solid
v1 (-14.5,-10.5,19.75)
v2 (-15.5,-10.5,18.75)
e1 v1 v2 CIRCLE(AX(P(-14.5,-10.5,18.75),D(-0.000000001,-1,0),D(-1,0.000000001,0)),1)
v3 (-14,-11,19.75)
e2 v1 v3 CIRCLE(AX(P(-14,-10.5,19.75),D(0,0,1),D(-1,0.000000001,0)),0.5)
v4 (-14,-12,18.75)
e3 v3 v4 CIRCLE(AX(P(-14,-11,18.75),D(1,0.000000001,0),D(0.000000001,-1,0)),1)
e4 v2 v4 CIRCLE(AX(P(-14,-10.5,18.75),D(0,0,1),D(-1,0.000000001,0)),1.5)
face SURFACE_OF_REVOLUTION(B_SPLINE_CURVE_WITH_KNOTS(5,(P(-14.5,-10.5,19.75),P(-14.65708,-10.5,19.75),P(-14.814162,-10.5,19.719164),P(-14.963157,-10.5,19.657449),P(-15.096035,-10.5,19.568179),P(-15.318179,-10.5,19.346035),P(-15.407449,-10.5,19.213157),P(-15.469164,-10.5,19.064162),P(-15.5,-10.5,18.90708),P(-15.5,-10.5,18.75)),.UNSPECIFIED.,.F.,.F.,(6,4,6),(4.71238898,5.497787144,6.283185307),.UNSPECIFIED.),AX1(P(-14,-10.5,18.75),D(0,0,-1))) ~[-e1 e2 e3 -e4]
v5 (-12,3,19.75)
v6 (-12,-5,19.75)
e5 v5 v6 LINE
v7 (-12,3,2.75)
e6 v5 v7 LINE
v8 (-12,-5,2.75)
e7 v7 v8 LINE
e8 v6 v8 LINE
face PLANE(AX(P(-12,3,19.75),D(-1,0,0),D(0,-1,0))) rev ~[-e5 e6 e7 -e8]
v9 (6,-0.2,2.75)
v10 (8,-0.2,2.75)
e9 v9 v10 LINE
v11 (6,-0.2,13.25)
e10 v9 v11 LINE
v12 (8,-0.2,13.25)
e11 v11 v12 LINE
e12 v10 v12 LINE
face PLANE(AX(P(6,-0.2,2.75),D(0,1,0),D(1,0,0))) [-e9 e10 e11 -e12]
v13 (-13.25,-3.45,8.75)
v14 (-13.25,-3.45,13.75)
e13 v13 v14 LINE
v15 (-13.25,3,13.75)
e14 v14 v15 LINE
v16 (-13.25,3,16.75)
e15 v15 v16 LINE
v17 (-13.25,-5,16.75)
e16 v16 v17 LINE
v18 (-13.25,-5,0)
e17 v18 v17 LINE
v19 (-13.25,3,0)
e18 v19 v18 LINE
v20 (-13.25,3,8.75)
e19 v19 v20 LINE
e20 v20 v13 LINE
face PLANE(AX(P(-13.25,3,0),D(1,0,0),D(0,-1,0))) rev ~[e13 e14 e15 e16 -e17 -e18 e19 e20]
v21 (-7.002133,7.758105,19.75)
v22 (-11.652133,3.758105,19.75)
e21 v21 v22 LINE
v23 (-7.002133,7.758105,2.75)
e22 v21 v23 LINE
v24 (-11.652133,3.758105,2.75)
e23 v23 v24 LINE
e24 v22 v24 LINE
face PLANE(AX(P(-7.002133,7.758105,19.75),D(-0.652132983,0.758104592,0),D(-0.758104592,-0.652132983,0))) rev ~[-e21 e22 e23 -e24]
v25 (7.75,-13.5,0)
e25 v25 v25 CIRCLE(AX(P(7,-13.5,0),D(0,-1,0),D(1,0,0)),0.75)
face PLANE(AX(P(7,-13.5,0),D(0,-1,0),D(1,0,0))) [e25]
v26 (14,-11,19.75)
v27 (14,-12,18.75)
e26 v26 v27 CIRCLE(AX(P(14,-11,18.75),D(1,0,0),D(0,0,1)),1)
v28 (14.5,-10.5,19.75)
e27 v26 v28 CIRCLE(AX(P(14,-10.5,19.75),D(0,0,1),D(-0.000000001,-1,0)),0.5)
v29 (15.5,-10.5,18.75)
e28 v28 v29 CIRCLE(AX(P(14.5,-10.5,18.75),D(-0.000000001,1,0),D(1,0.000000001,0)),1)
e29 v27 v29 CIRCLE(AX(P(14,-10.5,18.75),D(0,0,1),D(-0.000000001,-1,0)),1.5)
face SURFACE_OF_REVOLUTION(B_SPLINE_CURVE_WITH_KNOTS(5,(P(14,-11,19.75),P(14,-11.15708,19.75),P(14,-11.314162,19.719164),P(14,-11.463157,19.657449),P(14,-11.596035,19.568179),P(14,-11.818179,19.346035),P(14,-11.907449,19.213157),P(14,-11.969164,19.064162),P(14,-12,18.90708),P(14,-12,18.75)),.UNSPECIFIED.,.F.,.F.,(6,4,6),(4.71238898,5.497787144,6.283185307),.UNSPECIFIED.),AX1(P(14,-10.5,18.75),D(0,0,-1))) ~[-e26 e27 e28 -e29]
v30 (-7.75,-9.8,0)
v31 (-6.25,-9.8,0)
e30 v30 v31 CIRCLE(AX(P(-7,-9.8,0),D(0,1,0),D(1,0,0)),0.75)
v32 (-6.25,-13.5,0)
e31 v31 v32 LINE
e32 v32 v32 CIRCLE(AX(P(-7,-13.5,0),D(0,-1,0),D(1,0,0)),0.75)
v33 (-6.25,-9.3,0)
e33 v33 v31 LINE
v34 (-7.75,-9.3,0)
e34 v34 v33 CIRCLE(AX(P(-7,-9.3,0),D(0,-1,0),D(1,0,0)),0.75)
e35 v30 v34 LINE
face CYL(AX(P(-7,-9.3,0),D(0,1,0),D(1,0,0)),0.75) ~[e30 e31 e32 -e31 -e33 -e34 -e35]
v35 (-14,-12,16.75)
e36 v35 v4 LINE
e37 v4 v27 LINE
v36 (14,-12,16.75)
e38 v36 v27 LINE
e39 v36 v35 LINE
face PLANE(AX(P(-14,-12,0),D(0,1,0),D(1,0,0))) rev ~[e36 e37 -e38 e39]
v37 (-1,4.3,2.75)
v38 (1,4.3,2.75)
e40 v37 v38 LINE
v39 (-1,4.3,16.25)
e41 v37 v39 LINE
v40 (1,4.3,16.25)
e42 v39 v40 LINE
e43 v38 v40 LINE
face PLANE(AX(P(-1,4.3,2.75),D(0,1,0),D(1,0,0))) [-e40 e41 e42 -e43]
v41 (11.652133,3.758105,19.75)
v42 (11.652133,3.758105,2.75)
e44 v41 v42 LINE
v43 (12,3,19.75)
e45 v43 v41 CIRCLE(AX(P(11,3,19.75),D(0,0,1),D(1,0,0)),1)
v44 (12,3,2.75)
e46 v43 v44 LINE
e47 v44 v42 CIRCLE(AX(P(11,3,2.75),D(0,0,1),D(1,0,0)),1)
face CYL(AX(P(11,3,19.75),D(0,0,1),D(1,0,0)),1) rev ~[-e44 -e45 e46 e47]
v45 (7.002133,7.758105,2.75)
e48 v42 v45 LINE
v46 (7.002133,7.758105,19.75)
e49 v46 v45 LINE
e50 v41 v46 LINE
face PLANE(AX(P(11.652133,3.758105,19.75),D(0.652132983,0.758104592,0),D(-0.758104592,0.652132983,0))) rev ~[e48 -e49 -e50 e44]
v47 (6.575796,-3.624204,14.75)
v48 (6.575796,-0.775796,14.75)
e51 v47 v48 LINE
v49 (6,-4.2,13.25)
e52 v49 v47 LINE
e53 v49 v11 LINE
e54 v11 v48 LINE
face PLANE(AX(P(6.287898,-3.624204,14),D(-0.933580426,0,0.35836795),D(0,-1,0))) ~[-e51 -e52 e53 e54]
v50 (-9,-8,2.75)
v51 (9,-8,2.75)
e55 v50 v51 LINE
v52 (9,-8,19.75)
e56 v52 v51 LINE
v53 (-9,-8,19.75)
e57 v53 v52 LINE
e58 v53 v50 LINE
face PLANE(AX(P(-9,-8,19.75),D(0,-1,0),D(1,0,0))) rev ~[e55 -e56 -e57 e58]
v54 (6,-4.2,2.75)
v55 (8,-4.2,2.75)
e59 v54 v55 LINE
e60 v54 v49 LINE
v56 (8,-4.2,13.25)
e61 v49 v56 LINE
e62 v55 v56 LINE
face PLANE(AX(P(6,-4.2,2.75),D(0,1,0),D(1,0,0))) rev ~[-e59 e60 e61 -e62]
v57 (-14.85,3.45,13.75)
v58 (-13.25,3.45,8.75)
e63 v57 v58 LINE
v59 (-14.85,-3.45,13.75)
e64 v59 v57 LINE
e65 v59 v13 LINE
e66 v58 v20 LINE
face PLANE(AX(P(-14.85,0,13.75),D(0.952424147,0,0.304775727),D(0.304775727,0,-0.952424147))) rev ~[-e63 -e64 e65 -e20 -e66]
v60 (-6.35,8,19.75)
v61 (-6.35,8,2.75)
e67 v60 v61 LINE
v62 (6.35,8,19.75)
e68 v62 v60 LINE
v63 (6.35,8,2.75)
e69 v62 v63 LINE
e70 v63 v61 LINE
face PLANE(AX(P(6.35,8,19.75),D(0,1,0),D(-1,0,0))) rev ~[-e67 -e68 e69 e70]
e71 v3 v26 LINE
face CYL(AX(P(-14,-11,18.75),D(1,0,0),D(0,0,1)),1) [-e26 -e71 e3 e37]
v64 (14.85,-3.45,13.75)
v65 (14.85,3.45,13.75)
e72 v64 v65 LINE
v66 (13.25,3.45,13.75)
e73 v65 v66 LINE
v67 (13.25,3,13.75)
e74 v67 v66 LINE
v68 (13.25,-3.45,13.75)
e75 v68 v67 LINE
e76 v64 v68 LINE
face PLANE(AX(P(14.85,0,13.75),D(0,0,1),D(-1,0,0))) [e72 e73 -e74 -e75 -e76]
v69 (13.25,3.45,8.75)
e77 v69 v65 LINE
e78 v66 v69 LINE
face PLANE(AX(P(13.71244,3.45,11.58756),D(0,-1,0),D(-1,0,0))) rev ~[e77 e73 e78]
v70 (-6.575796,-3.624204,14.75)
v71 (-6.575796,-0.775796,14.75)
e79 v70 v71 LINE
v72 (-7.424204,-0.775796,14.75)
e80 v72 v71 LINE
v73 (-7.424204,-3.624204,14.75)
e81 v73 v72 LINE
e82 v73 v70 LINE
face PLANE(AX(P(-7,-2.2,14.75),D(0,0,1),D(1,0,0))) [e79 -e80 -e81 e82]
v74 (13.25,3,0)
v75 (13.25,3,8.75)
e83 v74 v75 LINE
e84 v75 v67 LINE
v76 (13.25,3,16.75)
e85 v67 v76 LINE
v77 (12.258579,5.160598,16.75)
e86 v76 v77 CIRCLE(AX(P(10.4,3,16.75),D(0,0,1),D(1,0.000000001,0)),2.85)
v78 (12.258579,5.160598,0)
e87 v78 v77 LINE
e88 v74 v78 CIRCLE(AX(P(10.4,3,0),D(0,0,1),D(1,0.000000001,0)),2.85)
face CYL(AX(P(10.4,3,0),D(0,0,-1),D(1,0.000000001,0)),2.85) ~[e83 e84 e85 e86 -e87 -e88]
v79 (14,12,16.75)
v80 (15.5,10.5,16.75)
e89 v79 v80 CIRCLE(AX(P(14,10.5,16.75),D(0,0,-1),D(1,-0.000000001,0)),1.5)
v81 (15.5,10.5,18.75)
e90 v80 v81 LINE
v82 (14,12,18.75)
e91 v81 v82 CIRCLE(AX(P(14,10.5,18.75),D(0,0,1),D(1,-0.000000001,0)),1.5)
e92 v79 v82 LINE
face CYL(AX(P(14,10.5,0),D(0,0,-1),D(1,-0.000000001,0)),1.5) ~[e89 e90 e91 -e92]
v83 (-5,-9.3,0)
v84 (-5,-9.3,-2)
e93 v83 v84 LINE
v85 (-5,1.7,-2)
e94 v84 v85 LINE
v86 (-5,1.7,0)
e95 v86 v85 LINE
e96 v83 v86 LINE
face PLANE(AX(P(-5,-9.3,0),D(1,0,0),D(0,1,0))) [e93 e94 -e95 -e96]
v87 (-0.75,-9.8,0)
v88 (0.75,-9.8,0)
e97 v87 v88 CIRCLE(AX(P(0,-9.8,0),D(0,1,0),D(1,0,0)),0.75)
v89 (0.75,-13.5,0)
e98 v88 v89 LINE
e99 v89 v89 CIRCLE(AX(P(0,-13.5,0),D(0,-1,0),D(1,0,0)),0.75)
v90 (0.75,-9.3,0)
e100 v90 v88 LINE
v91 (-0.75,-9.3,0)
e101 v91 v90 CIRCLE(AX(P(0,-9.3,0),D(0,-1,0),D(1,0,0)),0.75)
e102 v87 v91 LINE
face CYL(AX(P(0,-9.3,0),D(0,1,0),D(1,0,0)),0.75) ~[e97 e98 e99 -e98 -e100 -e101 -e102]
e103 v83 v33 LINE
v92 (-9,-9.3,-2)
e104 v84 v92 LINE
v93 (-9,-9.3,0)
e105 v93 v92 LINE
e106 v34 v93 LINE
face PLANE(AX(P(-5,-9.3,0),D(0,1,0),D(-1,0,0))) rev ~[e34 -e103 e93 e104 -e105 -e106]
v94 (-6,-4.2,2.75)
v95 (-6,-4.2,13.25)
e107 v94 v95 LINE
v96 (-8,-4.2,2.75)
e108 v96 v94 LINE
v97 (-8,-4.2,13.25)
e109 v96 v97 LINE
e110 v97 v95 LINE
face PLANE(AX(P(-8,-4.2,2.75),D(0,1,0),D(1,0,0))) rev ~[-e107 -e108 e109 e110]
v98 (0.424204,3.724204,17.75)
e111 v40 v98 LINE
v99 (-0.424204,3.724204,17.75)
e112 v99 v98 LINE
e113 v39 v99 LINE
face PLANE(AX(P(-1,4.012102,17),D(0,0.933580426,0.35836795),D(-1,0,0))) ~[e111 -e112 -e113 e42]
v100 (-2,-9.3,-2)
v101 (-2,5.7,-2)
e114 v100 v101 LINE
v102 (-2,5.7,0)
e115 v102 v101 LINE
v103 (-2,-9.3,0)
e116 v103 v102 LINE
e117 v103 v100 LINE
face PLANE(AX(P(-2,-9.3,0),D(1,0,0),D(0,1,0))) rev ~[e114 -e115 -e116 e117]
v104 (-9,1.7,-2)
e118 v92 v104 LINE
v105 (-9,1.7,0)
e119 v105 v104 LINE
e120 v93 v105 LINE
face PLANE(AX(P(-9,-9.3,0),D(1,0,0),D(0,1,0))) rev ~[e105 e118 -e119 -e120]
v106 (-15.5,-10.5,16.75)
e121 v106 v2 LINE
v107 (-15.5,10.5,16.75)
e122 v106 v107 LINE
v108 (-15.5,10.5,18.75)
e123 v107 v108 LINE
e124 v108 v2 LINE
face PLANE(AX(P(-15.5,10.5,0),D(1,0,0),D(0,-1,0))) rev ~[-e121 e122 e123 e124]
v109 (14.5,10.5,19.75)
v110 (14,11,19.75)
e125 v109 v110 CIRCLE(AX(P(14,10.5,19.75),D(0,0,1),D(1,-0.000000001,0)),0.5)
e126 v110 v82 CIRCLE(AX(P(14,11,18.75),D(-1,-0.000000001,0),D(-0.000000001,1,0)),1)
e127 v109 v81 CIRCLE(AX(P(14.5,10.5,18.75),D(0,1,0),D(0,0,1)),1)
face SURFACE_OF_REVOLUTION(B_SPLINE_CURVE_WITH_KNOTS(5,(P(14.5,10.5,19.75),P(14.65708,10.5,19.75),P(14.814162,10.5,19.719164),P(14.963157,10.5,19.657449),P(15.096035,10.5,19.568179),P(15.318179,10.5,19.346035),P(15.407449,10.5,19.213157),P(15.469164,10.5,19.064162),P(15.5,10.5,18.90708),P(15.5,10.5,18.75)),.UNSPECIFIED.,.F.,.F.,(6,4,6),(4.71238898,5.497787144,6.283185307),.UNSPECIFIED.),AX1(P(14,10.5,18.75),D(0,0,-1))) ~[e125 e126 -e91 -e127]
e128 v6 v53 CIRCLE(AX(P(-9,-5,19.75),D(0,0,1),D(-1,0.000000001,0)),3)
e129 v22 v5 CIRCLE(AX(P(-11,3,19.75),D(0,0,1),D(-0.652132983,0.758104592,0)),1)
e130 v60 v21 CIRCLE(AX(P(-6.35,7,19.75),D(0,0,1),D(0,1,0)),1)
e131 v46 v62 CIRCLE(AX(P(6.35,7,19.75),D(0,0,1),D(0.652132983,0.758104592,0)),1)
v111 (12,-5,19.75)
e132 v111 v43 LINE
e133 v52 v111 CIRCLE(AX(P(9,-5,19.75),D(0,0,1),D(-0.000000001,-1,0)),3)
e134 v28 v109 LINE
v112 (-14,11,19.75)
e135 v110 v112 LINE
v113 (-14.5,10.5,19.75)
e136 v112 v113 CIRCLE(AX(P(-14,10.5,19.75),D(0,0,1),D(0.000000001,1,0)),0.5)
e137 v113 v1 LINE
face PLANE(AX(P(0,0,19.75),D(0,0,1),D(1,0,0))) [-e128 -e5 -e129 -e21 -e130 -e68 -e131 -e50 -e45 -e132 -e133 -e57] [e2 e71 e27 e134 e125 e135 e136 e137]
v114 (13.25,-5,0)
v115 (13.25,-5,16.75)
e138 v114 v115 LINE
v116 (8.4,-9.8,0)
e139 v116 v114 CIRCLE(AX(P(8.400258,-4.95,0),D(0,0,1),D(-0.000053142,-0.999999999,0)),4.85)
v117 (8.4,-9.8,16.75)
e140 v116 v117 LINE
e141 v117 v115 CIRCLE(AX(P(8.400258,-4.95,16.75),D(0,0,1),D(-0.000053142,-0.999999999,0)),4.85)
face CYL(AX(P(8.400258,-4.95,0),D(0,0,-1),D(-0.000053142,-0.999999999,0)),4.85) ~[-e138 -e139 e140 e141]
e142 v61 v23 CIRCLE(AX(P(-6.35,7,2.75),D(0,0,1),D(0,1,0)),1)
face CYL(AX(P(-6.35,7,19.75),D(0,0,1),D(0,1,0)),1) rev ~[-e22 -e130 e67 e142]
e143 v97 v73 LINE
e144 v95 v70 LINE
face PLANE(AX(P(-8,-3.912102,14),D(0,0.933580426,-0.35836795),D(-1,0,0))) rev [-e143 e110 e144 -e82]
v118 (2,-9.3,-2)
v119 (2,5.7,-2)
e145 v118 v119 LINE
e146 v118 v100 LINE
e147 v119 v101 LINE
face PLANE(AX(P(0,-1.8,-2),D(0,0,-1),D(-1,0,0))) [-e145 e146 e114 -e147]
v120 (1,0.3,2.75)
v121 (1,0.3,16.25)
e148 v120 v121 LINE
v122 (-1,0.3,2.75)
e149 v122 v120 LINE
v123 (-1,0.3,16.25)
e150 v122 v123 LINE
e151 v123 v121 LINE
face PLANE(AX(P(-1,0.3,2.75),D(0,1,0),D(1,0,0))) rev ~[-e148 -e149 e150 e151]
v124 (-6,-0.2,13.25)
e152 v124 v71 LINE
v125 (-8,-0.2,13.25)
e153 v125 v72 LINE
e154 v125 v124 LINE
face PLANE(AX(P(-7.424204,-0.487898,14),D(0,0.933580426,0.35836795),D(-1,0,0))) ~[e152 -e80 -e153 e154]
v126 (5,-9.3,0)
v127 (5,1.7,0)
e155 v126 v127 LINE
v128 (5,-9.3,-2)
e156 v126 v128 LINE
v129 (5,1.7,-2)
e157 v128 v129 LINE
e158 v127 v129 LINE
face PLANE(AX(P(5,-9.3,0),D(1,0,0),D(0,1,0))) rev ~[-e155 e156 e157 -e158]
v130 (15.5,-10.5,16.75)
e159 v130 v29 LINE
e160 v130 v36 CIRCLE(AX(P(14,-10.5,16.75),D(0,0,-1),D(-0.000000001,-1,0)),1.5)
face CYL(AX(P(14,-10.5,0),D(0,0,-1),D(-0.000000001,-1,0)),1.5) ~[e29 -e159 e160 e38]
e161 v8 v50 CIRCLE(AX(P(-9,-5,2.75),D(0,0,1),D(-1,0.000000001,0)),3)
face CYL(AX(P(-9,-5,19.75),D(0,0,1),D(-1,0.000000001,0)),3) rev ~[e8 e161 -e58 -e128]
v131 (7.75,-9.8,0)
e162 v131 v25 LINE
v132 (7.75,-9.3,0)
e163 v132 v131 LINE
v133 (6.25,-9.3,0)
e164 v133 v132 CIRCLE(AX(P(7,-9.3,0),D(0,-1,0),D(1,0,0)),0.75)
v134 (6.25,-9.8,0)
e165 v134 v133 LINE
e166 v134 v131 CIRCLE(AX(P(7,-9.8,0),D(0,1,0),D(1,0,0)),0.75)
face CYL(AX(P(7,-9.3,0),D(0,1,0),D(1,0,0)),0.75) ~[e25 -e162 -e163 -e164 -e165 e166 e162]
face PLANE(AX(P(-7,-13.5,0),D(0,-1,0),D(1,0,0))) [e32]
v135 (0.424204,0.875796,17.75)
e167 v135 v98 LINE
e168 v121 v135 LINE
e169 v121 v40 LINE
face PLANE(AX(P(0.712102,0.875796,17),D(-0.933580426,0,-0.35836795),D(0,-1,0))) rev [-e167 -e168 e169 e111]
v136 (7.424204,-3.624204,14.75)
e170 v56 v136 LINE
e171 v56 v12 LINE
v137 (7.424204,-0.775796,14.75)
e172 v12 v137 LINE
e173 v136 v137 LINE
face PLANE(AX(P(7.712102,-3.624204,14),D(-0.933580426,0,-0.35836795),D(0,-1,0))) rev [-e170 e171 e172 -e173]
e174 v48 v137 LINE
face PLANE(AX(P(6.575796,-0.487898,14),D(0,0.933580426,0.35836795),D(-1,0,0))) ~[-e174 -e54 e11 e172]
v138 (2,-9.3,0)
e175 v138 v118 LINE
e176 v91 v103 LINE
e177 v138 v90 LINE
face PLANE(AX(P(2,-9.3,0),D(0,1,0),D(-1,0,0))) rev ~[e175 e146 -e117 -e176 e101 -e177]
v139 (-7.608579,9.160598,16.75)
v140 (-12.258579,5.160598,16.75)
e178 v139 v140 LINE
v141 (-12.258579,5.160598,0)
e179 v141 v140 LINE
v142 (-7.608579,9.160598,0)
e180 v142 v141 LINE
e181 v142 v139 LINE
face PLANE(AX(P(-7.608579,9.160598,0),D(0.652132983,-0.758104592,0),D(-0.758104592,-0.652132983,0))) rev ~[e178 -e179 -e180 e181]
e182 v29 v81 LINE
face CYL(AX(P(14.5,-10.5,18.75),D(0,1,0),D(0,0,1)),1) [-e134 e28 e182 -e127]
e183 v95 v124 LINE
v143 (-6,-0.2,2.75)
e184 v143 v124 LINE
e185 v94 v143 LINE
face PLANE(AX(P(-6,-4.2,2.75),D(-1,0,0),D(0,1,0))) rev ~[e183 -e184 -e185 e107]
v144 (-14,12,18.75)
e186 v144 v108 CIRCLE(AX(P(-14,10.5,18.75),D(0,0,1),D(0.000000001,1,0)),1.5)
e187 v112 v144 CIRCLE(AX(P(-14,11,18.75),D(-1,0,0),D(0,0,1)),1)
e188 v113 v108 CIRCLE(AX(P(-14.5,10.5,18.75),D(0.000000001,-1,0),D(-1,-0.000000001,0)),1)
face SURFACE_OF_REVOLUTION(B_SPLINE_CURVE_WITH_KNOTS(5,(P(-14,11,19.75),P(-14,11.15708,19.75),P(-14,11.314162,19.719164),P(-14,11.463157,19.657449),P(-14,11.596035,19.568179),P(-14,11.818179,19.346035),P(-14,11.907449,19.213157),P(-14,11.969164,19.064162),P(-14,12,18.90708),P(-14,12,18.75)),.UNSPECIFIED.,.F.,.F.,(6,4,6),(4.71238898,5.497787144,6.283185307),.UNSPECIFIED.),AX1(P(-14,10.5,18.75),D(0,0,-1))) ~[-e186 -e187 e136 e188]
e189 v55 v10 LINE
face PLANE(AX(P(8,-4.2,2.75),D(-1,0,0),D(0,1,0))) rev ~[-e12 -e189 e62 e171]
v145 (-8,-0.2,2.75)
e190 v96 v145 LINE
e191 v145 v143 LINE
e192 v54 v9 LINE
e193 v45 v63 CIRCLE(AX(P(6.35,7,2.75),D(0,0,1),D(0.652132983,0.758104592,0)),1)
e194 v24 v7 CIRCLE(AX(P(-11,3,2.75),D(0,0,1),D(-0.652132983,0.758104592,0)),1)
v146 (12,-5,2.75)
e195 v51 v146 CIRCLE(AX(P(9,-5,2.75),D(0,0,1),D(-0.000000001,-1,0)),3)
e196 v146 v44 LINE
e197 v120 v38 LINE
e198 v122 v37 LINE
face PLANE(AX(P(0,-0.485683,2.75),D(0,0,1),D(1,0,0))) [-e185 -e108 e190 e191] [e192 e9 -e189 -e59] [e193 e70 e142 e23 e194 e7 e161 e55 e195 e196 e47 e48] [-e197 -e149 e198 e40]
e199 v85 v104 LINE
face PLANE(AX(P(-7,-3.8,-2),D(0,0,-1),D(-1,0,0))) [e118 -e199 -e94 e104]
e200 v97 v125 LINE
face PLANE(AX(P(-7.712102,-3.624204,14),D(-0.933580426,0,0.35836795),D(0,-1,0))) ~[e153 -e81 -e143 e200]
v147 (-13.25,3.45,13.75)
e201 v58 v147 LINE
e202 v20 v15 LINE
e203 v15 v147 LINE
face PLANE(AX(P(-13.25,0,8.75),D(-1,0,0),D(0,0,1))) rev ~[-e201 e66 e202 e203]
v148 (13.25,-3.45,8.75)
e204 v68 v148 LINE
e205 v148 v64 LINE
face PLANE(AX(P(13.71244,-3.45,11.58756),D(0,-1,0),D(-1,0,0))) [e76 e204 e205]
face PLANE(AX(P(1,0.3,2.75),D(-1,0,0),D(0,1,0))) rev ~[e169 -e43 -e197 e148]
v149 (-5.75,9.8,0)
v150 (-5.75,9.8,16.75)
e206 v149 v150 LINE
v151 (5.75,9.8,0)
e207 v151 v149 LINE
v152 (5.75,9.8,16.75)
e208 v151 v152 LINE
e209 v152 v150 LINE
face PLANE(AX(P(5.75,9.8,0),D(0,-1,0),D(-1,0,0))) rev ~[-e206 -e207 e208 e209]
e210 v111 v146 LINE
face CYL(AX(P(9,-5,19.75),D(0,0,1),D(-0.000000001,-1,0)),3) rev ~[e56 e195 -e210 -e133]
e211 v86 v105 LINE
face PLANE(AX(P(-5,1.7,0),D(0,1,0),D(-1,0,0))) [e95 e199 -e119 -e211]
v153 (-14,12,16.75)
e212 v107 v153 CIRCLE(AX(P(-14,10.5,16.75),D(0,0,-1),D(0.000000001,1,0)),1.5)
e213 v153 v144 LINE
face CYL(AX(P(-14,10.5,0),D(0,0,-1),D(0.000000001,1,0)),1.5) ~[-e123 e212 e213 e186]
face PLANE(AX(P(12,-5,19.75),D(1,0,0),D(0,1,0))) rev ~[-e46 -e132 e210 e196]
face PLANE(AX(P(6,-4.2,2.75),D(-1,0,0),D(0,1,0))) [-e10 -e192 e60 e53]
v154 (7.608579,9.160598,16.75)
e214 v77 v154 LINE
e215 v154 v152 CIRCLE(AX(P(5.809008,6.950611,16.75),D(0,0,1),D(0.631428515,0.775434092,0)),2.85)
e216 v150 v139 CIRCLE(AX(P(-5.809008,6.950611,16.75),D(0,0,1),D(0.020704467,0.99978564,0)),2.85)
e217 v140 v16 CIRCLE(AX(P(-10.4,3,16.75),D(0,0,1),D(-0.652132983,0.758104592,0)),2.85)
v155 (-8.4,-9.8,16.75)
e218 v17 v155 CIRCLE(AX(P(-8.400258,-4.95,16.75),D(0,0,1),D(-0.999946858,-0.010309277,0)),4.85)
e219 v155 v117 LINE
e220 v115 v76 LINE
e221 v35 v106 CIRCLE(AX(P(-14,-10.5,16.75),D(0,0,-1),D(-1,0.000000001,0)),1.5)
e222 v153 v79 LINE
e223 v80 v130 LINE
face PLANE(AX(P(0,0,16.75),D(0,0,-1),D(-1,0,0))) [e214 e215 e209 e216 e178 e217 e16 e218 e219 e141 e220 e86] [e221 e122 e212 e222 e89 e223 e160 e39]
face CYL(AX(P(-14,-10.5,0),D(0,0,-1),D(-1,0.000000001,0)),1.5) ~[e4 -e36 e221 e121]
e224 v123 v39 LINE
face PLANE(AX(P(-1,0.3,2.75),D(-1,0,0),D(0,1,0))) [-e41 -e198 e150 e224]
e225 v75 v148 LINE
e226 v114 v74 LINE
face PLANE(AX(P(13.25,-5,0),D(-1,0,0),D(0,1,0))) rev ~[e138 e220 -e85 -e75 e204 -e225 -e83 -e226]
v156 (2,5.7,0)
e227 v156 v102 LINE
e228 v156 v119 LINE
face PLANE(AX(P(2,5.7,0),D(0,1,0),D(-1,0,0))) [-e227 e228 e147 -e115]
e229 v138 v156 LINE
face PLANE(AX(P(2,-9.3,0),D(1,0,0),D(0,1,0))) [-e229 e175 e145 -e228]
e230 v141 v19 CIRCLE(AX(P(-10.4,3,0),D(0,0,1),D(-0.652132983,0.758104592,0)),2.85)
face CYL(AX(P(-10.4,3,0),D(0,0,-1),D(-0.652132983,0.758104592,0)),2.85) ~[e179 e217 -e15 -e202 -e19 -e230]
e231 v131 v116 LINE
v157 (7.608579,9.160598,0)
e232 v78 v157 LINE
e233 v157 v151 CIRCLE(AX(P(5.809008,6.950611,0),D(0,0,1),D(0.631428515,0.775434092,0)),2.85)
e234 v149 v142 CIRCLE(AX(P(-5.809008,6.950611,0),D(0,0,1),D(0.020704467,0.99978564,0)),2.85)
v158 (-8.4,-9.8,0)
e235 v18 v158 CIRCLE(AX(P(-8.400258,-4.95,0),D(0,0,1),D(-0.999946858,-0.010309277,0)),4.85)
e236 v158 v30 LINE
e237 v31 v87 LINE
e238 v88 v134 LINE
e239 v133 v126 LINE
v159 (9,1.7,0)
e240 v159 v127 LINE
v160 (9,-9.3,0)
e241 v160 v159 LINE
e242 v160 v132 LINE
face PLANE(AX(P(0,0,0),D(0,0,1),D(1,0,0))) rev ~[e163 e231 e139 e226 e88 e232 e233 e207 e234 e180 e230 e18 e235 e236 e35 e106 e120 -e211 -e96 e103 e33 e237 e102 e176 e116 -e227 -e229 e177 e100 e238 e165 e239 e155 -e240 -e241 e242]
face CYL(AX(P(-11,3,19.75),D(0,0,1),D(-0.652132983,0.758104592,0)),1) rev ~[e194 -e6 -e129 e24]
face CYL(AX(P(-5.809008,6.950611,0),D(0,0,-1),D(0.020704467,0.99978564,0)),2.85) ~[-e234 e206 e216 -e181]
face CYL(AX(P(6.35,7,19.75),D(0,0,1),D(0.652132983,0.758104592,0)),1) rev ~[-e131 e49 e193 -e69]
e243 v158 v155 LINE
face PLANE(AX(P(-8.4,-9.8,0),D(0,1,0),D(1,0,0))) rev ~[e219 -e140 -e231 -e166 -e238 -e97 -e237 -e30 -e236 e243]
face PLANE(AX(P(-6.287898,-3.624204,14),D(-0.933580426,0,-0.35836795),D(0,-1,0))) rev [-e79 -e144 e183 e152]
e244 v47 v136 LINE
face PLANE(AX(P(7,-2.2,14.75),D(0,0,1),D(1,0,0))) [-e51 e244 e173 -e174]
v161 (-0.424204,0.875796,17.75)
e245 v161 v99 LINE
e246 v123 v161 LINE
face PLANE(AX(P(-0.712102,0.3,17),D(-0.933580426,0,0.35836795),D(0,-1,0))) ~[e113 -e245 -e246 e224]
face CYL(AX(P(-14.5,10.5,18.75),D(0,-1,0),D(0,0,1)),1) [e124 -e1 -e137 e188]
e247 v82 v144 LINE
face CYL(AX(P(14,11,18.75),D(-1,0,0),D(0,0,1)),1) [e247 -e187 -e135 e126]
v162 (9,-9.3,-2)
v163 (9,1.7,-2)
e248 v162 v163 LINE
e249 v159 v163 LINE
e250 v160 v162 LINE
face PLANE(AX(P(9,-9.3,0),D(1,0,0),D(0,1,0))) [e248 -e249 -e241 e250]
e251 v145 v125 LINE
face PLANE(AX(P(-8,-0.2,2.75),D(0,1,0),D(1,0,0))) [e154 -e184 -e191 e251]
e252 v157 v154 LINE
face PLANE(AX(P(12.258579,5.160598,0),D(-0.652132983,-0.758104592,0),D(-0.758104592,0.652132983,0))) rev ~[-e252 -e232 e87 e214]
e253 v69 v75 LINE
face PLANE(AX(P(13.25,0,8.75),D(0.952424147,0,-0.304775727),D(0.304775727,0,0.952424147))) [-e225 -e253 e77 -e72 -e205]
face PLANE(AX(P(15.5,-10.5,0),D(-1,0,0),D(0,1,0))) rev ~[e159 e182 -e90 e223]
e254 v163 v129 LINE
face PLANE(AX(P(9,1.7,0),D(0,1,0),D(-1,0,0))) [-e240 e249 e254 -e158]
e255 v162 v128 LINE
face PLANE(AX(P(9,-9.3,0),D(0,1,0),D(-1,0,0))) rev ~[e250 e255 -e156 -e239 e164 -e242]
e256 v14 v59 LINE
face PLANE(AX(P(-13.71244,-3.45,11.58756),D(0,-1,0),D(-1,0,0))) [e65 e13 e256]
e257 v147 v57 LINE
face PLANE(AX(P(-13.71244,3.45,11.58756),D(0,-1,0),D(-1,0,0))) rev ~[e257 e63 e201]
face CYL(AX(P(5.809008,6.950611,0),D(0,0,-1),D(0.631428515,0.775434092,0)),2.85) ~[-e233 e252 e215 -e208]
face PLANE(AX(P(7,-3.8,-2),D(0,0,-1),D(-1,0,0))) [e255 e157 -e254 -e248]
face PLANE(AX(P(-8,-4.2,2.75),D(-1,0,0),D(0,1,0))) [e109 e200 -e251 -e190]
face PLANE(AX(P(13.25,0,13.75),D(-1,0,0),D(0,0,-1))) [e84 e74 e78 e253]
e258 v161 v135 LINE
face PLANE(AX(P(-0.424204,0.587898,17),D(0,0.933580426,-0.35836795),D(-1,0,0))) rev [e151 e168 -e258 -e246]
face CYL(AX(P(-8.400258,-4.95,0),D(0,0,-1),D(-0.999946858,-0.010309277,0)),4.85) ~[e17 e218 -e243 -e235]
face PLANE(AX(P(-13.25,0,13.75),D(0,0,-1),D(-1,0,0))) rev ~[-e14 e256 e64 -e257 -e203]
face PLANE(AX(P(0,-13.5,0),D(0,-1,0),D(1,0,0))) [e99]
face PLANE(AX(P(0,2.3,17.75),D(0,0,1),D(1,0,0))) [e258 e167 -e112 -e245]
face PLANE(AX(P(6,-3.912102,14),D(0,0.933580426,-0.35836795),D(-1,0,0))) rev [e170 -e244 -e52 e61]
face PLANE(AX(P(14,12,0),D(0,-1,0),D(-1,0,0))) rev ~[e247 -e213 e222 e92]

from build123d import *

# Parameters (mm, degrees)
EXTRUDE1_DEPTH         = 19.75
CUT_EXTRUDE1_DEPTH     = 17
SKETCH3_OUTSIDE_W      = 41.78
SKETCH3_OUTSIDE_H      = 34.78
CUT_EXTRUDE2_DEPTH     = 16.75
SKETCH4_W              = 2
SKETCH4_H              = 4
EXTRUDE2_DEPTH         = 15
SKETCH5_W              = 2
SKETCH5_H              = 4
CUT_EXTRUDE3_DEPTH     = 3
CHAMFER1_SIZE          = 1.5
CHAMFER1_SIZE2         = 0.575796053
CHAMFER1_PART_2_SIZE   = 1.5
CHAMFER1_PART_2_SIZE2  = 0.575796053
CHAMFER1_PART_3_SIZE   = 1.5
CHAMFER1_PART_3_SIZE2  = 0.575796053
CHAMFER1_PART_4_SIZE   = 1.5
CHAMFER1_PART_4_SIZE2  = 0.575796053
CHAMFER1_PART_5_SIZE   = 1.5
CHAMFER1_PART_5_SIZE2  = 0.575796053
CHAMFER1_PART_6_SIZE   = 1.5
CHAMFER1_PART_6_SIZE2  = 0.575796053
CHAMFER1_PART_7_SIZE   = 1.5
CHAMFER1_PART_7_SIZE2  = 0.575796053
CHAMFER1_PART_8_SIZE   = 1.5
CHAMFER1_PART_8_SIZE2  = 0.575796053
CHAMFER1_PART_9_SIZE   = 1.5
CHAMFER1_PART_9_SIZE2  = 0.575796053
CHAMFER1_PART_10_SIZE  = 1.5
CHAMFER1_PART_10_SIZE2 = 0.575796053
CHAMFER1_PART_11_SIZE  = 1.5
CHAMFER1_PART_11_SIZE2 = 0.575796053
CHAMFER1_PART_12_SIZE  = 1.5
CHAMFER1_PART_12_SIZE2 = 0.575796053
FILLET1_R              = 1
EXTRUDE3_DEPTH         = 3.45
SKETCH7_W              = 4
SKETCH7_H              = 15
SKETCH7_H_2            = 11
EXTRUDE4_DEPTH         = 2
SKETCH8_R              = 0.75
EXTRUDE5_DEPTH         = 4.2


with BuildPart() as part:
    # Sketch1 → Extrude1 (new body)
    with BuildSketch(Plane.XY):
        with BuildLine():
            Line((-14, -12), (14, -12))
            ThreePointArc((14, -12), (15.060660172, -11.560660172), (15.5, -10.5))
            Line((15.5, -10.5), (15.5, 10.5))
            ThreePointArc((15.5, 10.5), (15.060660172, 11.560660172), (14, 12))
            Line((14, 12), (-14, 12))
            ThreePointArc((-14, 12), (-15.060660172, 11.560660172), (-15.5, 10.5))
            Line((-15.5, 10.5), (-15.5, -10.5))
            ThreePointArc((-15.5, -10.5), (-15.060660172, -11.560660172), (-14, -12))
        make_face()
    extrude(amount=EXTRUDE1_DEPTH)

    # Sketch2 → Cut-Extrude1 (cut)
    with BuildSketch(Plane.XY.offset(19.75)):
        with BuildLine():
            Line((-12, 3), (-12, -5))
            ThreePointArc((-12, -5), (-11.121320344, -7.121320344), (-9, -8))
            Line((-9, -8), (9, -8))
            ThreePointArc((9, -8), (11.121320344, -7.121320344), (12, -5))
            Line((12, -5), (12, 3))
            ThreePointArc((12, 3), (11.908882001, 3.417053364), (11.652132983, 3.758104592))
            Line((11.652132983, 3.758104592), (7.002132983, 7.758104592))
            ThreePointArc((7.002132983, 7.758104592), (6.697775364, 7.937577888), (6.35, 8))
            Line((6.35, 8), (-6.35, 8))
            ThreePointArc((-6.35, 8), (-6.697775364, 7.937577888), (-7.002132983, 7.758104592))
            Line((-7.002132983, 7.758104592), (-11.652132983, 3.758104592))
            ThreePointArc((-11.652132983, 3.758104592), (-11.908882001, 3.417053364), (-12, 3))
        make_face()
    extrude(amount=-CUT_EXTRUDE1_DEPTH, mode=Mode.SUBTRACT)

    # Sketch3 outside → Cut-Extrude2 (cut)
    with BuildSketch(Plane(origin=(0, 0, 0), x_dir=(-1, 0, 0), z_dir=(0, 0, -1))):
        Rectangle(SKETCH3_OUTSIDE_W, SKETCH3_OUTSIDE_H)
        with BuildLine():
            Line((13.25, 3), (13.25, -5))
            ThreePointArc((13.25, -5), (11.811910569, -8.397190887), (8.4, -9.8))
            Line((8.4, -9.8), (-8.4, -9.8))
            ThreePointArc((-8.4, -9.8), (-11.811910569, -8.397190887), (-13.25, -5))
            Line((-13.25, -5), (-13.25, 3))
            ThreePointArc((-13.25, 3), (-12.990313702, 4.188602088), (-12.258579001, 5.160598088))
            Line((-12.258579001, 5.160598088), (-7.608579001, 9.160598088))
            ThreePointArc((-7.608579001, 9.160598088), (-6.736153383, 9.645587911), (-5.75, 9.8))
            Line((-5.75, 9.8), (5.75, 9.8))
            ThreePointArc((5.75, 9.8), (6.736153383, 9.645587911), (7.608579001, 9.160598088))
            Line((7.608579001, 9.160598088), (12.258579001, 5.160598088))
            ThreePointArc((12.258579001, 5.160598088), (12.990313702, 4.188602088), (13.25, 3))
        make_face(mode=Mode.SUBTRACT)
    extrude(amount=-CUT_EXTRUDE2_DEPTH, mode=Mode.SUBTRACT)

    # Sketch4 → Extrude2 (add)
    with BuildSketch(Plane.XY.offset(2.75)):
        with Locations((0, 2.3)):
            Rectangle(SKETCH4_W, SKETCH4_H)
        with Locations((-7, -2.2)):
            Rectangle(SKETCH4_W, SKETCH4_H)
        with Locations((7, -2.2)):
            Rectangle(SKETCH4_W, SKETCH4_H)
    extrude(amount=EXTRUDE2_DEPTH)

    # Sketch5 → Cut-Extrude3 (cut)
    with BuildSketch(Plane.XY.offset(17.75)):
        with Locations((7, -2.2)):
            Rectangle(SKETCH5_W, SKETCH5_H)
        with Locations((-7, -2.2)):
            Rectangle(SKETCH5_W, SKETCH5_H)
    extrude(amount=-CUT_EXTRUDE3_DEPTH, mode=Mode.SUBTRACT)

    # Chamfer1
    chamfer1_edges = [part.edges().sort_by_distance(p)[0] for p in [
        (0, 4.3, 17.75),
    ]]
    chamfer1_side = [part.faces().sort_by_distance(p)[0] for p in [
        (0, 4.3, 10.25),
    ]]
    chamfer(chamfer1_edges, length=CHAMFER1_SIZE, length2=CHAMFER1_SIZE2, reference=chamfer1_side[0])

    # Chamfer1 part 2
    chamfer1_part_2_edges = [part.edges().sort_by_distance(p)[0] for p in [
        (-1, 2.3, 17.75),
    ]]
    chamfer1_part_2_side = [part.faces().sort_by_distance(p)[0] for p in [
        (-1, 2.3, 10.25),
    ]]
    chamfer(chamfer1_part_2_edges, length=CHAMFER1_PART_2_SIZE, length2=CHAMFER1_PART_2_SIZE2, reference=chamfer1_part_2_side[0])

    # Chamfer1 part 3
    chamfer1_part_3_edges = [part.edges().sort_by_distance(p)[0] for p in [
        (0, 0.3, 17.75),
    ]]
    chamfer1_part_3_side = [part.faces().sort_by_distance(p)[0] for p in [
        (0, 0.3, 10.25),
    ]]
    chamfer(chamfer1_part_3_edges, length=CHAMFER1_PART_3_SIZE, length2=CHAMFER1_PART_3_SIZE2, reference=chamfer1_part_3_side[0])

    # Chamfer1 part 4
    chamfer1_part_4_edges = [part.edges().sort_by_distance(p)[0] for p in [
        (1, 2.3, 17.75),
    ]]
    chamfer1_part_4_side = [part.faces().sort_by_distance(p)[0] for p in [
        (1, 2.3, 10.25),
    ]]
    chamfer(chamfer1_part_4_edges, length=CHAMFER1_PART_4_SIZE, length2=CHAMFER1_PART_4_SIZE2, reference=chamfer1_part_4_side[0])

    # Chamfer1 part 5
    chamfer1_part_5_edges = [part.edges().sort_by_distance(p)[0] for p in [
        (7, -4.2, 14.75),
    ]]
    chamfer1_part_5_side = [part.faces().sort_by_distance(p)[0] for p in [
        (7, -4.2, 8.75),
    ]]
    chamfer(chamfer1_part_5_edges, length=CHAMFER1_PART_5_SIZE, length2=CHAMFER1_PART_5_SIZE2, reference=chamfer1_part_5_side[0])

    # Chamfer1 part 6
    chamfer1_part_6_edges = [part.edges().sort_by_distance(p)[0] for p in [
        (6, -2.2, 14.75),
    ]]
    chamfer1_part_6_side = [part.faces().sort_by_distance(p)[0] for p in [
        (6, -2.2, 8.75),
    ]]
    chamfer(chamfer1_part_6_edges, length=CHAMFER1_PART_6_SIZE, length2=CHAMFER1_PART_6_SIZE2, reference=chamfer1_part_6_side[0])

    # Chamfer1 part 7
    chamfer1_part_7_edges = [part.edges().sort_by_distance(p)[0] for p in [
        (7, -0.2, 14.75),
    ]]
    chamfer1_part_7_side = [part.faces().sort_by_distance(p)[0] for p in [
        (7, -0.2, 8.75),
    ]]
    chamfer(chamfer1_part_7_edges, length=CHAMFER1_PART_7_SIZE, length2=CHAMFER1_PART_7_SIZE2, reference=chamfer1_part_7_side[0])

    # Chamfer1 part 8
    chamfer1_part_8_edges = [part.edges().sort_by_distance(p)[0] for p in [
        (8, -2.2, 14.75),
    ]]
    chamfer1_part_8_side = [part.faces().sort_by_distance(p)[0] for p in [
        (8, -2.2, 8.75),
    ]]
    chamfer(chamfer1_part_8_edges, length=CHAMFER1_PART_8_SIZE, length2=CHAMFER1_PART_8_SIZE2, reference=chamfer1_part_8_side[0])

    # Chamfer1 part 9
    chamfer1_part_9_edges = [part.edges().sort_by_distance(p)[0] for p in [
        (-7, -4.2, 14.75),
    ]]
    chamfer1_part_9_side = [part.faces().sort_by_distance(p)[0] for p in [
        (-7, -4.2, 8.75),
    ]]
    chamfer(chamfer1_part_9_edges, length=CHAMFER1_PART_9_SIZE, length2=CHAMFER1_PART_9_SIZE2, reference=chamfer1_part_9_side[0])

    # Chamfer1 part 10
    chamfer1_part_10_edges = [part.edges().sort_by_distance(p)[0] for p in [
        (-8, -2.2, 14.75),
    ]]
    chamfer1_part_10_side = [part.faces().sort_by_distance(p)[0] for p in [
        (-8, -2.2, 8.75),
    ]]
    chamfer(chamfer1_part_10_edges, length=CHAMFER1_PART_10_SIZE, length2=CHAMFER1_PART_10_SIZE2, reference=chamfer1_part_10_side[0])

    # Chamfer1 part 11
    chamfer1_part_11_edges = [part.edges().sort_by_distance(p)[0] for p in [
        (-7, -0.2, 14.75),
    ]]
    chamfer1_part_11_side = [part.faces().sort_by_distance(p)[0] for p in [
        (-7, -0.2, 8.75),
    ]]
    chamfer(chamfer1_part_11_edges, length=CHAMFER1_PART_11_SIZE, length2=CHAMFER1_PART_11_SIZE2, reference=chamfer1_part_11_side[0])

    # Chamfer1 part 12
    chamfer1_part_12_edges = [part.edges().sort_by_distance(p)[0] for p in [
        (-6, -2.2, 14.75),
    ]]
    chamfer1_part_12_side = [part.faces().sort_by_distance(p)[0] for p in [
        (-6, -2.2, 8.75),
    ]]
    chamfer(chamfer1_part_12_edges, length=CHAMFER1_PART_12_SIZE, length2=CHAMFER1_PART_12_SIZE2, reference=chamfer1_part_12_side[0])

    # Fillet1
    fillet1_edges = [part.edges().sort_by_distance(p)[0] for p in [
        (-15.060660172, -11.560660172, 19.75),
        (0, -12, 19.75),
        (15.060660172, -11.560660172, 19.75),
        (15.5, 0, 19.75),
        (15.060660172, 11.560660172, 19.75),
        (0, 12, 19.75),
        (-15.060660172, 11.560660172, 19.75),
        (-15.5, 0, 19.75),
    ]]
    fillet(fillet1_edges, radius=FILLET1_R)

    # Sketch6 → Extrude3 (add, symmetric)
    with BuildSketch(Plane(origin=(0, 0, 0), x_dir=(1, 0, 0), z_dir=(0, 1, 0))):
        Polygon((13.25, -13.75), (13.25, -8.75), (14.85, -13.75), align=None)
        Polygon((-14.85, -13.75), (-13.25, -8.75), (-13.25, -13.75), align=None)
    extrude(amount=EXTRUDE3_DEPTH, both=True)

    # Sketch7 → Extrude4 (add)
    with BuildSketch(Plane(origin=(0, 0, 0), x_dir=(-1, 0, 0), z_dir=(0, 0, -1))):
        with Locations((0, -1.8)):
            Rectangle(SKETCH7_W, SKETCH7_H)
        with Locations((-7, -3.8)):
            Rectangle(SKETCH7_W, SKETCH7_H_2)
        with Locations((7, -3.8)):
            Rectangle(SKETCH7_W, SKETCH7_H_2)
    extrude(amount=EXTRUDE4_DEPTH)

    # Sketch8 → Extrude5 (add)
    with BuildSketch(Plane.XZ.offset(9.3)):
        with Locations((7, 0)):
            Circle(SKETCH8_R)
        Circle(SKETCH8_R)
        with Locations((-7, 0)):
            Circle(SKETCH8_R)
    extrude(amount=EXTRUDE5_DEPTH)


solid = part.part
